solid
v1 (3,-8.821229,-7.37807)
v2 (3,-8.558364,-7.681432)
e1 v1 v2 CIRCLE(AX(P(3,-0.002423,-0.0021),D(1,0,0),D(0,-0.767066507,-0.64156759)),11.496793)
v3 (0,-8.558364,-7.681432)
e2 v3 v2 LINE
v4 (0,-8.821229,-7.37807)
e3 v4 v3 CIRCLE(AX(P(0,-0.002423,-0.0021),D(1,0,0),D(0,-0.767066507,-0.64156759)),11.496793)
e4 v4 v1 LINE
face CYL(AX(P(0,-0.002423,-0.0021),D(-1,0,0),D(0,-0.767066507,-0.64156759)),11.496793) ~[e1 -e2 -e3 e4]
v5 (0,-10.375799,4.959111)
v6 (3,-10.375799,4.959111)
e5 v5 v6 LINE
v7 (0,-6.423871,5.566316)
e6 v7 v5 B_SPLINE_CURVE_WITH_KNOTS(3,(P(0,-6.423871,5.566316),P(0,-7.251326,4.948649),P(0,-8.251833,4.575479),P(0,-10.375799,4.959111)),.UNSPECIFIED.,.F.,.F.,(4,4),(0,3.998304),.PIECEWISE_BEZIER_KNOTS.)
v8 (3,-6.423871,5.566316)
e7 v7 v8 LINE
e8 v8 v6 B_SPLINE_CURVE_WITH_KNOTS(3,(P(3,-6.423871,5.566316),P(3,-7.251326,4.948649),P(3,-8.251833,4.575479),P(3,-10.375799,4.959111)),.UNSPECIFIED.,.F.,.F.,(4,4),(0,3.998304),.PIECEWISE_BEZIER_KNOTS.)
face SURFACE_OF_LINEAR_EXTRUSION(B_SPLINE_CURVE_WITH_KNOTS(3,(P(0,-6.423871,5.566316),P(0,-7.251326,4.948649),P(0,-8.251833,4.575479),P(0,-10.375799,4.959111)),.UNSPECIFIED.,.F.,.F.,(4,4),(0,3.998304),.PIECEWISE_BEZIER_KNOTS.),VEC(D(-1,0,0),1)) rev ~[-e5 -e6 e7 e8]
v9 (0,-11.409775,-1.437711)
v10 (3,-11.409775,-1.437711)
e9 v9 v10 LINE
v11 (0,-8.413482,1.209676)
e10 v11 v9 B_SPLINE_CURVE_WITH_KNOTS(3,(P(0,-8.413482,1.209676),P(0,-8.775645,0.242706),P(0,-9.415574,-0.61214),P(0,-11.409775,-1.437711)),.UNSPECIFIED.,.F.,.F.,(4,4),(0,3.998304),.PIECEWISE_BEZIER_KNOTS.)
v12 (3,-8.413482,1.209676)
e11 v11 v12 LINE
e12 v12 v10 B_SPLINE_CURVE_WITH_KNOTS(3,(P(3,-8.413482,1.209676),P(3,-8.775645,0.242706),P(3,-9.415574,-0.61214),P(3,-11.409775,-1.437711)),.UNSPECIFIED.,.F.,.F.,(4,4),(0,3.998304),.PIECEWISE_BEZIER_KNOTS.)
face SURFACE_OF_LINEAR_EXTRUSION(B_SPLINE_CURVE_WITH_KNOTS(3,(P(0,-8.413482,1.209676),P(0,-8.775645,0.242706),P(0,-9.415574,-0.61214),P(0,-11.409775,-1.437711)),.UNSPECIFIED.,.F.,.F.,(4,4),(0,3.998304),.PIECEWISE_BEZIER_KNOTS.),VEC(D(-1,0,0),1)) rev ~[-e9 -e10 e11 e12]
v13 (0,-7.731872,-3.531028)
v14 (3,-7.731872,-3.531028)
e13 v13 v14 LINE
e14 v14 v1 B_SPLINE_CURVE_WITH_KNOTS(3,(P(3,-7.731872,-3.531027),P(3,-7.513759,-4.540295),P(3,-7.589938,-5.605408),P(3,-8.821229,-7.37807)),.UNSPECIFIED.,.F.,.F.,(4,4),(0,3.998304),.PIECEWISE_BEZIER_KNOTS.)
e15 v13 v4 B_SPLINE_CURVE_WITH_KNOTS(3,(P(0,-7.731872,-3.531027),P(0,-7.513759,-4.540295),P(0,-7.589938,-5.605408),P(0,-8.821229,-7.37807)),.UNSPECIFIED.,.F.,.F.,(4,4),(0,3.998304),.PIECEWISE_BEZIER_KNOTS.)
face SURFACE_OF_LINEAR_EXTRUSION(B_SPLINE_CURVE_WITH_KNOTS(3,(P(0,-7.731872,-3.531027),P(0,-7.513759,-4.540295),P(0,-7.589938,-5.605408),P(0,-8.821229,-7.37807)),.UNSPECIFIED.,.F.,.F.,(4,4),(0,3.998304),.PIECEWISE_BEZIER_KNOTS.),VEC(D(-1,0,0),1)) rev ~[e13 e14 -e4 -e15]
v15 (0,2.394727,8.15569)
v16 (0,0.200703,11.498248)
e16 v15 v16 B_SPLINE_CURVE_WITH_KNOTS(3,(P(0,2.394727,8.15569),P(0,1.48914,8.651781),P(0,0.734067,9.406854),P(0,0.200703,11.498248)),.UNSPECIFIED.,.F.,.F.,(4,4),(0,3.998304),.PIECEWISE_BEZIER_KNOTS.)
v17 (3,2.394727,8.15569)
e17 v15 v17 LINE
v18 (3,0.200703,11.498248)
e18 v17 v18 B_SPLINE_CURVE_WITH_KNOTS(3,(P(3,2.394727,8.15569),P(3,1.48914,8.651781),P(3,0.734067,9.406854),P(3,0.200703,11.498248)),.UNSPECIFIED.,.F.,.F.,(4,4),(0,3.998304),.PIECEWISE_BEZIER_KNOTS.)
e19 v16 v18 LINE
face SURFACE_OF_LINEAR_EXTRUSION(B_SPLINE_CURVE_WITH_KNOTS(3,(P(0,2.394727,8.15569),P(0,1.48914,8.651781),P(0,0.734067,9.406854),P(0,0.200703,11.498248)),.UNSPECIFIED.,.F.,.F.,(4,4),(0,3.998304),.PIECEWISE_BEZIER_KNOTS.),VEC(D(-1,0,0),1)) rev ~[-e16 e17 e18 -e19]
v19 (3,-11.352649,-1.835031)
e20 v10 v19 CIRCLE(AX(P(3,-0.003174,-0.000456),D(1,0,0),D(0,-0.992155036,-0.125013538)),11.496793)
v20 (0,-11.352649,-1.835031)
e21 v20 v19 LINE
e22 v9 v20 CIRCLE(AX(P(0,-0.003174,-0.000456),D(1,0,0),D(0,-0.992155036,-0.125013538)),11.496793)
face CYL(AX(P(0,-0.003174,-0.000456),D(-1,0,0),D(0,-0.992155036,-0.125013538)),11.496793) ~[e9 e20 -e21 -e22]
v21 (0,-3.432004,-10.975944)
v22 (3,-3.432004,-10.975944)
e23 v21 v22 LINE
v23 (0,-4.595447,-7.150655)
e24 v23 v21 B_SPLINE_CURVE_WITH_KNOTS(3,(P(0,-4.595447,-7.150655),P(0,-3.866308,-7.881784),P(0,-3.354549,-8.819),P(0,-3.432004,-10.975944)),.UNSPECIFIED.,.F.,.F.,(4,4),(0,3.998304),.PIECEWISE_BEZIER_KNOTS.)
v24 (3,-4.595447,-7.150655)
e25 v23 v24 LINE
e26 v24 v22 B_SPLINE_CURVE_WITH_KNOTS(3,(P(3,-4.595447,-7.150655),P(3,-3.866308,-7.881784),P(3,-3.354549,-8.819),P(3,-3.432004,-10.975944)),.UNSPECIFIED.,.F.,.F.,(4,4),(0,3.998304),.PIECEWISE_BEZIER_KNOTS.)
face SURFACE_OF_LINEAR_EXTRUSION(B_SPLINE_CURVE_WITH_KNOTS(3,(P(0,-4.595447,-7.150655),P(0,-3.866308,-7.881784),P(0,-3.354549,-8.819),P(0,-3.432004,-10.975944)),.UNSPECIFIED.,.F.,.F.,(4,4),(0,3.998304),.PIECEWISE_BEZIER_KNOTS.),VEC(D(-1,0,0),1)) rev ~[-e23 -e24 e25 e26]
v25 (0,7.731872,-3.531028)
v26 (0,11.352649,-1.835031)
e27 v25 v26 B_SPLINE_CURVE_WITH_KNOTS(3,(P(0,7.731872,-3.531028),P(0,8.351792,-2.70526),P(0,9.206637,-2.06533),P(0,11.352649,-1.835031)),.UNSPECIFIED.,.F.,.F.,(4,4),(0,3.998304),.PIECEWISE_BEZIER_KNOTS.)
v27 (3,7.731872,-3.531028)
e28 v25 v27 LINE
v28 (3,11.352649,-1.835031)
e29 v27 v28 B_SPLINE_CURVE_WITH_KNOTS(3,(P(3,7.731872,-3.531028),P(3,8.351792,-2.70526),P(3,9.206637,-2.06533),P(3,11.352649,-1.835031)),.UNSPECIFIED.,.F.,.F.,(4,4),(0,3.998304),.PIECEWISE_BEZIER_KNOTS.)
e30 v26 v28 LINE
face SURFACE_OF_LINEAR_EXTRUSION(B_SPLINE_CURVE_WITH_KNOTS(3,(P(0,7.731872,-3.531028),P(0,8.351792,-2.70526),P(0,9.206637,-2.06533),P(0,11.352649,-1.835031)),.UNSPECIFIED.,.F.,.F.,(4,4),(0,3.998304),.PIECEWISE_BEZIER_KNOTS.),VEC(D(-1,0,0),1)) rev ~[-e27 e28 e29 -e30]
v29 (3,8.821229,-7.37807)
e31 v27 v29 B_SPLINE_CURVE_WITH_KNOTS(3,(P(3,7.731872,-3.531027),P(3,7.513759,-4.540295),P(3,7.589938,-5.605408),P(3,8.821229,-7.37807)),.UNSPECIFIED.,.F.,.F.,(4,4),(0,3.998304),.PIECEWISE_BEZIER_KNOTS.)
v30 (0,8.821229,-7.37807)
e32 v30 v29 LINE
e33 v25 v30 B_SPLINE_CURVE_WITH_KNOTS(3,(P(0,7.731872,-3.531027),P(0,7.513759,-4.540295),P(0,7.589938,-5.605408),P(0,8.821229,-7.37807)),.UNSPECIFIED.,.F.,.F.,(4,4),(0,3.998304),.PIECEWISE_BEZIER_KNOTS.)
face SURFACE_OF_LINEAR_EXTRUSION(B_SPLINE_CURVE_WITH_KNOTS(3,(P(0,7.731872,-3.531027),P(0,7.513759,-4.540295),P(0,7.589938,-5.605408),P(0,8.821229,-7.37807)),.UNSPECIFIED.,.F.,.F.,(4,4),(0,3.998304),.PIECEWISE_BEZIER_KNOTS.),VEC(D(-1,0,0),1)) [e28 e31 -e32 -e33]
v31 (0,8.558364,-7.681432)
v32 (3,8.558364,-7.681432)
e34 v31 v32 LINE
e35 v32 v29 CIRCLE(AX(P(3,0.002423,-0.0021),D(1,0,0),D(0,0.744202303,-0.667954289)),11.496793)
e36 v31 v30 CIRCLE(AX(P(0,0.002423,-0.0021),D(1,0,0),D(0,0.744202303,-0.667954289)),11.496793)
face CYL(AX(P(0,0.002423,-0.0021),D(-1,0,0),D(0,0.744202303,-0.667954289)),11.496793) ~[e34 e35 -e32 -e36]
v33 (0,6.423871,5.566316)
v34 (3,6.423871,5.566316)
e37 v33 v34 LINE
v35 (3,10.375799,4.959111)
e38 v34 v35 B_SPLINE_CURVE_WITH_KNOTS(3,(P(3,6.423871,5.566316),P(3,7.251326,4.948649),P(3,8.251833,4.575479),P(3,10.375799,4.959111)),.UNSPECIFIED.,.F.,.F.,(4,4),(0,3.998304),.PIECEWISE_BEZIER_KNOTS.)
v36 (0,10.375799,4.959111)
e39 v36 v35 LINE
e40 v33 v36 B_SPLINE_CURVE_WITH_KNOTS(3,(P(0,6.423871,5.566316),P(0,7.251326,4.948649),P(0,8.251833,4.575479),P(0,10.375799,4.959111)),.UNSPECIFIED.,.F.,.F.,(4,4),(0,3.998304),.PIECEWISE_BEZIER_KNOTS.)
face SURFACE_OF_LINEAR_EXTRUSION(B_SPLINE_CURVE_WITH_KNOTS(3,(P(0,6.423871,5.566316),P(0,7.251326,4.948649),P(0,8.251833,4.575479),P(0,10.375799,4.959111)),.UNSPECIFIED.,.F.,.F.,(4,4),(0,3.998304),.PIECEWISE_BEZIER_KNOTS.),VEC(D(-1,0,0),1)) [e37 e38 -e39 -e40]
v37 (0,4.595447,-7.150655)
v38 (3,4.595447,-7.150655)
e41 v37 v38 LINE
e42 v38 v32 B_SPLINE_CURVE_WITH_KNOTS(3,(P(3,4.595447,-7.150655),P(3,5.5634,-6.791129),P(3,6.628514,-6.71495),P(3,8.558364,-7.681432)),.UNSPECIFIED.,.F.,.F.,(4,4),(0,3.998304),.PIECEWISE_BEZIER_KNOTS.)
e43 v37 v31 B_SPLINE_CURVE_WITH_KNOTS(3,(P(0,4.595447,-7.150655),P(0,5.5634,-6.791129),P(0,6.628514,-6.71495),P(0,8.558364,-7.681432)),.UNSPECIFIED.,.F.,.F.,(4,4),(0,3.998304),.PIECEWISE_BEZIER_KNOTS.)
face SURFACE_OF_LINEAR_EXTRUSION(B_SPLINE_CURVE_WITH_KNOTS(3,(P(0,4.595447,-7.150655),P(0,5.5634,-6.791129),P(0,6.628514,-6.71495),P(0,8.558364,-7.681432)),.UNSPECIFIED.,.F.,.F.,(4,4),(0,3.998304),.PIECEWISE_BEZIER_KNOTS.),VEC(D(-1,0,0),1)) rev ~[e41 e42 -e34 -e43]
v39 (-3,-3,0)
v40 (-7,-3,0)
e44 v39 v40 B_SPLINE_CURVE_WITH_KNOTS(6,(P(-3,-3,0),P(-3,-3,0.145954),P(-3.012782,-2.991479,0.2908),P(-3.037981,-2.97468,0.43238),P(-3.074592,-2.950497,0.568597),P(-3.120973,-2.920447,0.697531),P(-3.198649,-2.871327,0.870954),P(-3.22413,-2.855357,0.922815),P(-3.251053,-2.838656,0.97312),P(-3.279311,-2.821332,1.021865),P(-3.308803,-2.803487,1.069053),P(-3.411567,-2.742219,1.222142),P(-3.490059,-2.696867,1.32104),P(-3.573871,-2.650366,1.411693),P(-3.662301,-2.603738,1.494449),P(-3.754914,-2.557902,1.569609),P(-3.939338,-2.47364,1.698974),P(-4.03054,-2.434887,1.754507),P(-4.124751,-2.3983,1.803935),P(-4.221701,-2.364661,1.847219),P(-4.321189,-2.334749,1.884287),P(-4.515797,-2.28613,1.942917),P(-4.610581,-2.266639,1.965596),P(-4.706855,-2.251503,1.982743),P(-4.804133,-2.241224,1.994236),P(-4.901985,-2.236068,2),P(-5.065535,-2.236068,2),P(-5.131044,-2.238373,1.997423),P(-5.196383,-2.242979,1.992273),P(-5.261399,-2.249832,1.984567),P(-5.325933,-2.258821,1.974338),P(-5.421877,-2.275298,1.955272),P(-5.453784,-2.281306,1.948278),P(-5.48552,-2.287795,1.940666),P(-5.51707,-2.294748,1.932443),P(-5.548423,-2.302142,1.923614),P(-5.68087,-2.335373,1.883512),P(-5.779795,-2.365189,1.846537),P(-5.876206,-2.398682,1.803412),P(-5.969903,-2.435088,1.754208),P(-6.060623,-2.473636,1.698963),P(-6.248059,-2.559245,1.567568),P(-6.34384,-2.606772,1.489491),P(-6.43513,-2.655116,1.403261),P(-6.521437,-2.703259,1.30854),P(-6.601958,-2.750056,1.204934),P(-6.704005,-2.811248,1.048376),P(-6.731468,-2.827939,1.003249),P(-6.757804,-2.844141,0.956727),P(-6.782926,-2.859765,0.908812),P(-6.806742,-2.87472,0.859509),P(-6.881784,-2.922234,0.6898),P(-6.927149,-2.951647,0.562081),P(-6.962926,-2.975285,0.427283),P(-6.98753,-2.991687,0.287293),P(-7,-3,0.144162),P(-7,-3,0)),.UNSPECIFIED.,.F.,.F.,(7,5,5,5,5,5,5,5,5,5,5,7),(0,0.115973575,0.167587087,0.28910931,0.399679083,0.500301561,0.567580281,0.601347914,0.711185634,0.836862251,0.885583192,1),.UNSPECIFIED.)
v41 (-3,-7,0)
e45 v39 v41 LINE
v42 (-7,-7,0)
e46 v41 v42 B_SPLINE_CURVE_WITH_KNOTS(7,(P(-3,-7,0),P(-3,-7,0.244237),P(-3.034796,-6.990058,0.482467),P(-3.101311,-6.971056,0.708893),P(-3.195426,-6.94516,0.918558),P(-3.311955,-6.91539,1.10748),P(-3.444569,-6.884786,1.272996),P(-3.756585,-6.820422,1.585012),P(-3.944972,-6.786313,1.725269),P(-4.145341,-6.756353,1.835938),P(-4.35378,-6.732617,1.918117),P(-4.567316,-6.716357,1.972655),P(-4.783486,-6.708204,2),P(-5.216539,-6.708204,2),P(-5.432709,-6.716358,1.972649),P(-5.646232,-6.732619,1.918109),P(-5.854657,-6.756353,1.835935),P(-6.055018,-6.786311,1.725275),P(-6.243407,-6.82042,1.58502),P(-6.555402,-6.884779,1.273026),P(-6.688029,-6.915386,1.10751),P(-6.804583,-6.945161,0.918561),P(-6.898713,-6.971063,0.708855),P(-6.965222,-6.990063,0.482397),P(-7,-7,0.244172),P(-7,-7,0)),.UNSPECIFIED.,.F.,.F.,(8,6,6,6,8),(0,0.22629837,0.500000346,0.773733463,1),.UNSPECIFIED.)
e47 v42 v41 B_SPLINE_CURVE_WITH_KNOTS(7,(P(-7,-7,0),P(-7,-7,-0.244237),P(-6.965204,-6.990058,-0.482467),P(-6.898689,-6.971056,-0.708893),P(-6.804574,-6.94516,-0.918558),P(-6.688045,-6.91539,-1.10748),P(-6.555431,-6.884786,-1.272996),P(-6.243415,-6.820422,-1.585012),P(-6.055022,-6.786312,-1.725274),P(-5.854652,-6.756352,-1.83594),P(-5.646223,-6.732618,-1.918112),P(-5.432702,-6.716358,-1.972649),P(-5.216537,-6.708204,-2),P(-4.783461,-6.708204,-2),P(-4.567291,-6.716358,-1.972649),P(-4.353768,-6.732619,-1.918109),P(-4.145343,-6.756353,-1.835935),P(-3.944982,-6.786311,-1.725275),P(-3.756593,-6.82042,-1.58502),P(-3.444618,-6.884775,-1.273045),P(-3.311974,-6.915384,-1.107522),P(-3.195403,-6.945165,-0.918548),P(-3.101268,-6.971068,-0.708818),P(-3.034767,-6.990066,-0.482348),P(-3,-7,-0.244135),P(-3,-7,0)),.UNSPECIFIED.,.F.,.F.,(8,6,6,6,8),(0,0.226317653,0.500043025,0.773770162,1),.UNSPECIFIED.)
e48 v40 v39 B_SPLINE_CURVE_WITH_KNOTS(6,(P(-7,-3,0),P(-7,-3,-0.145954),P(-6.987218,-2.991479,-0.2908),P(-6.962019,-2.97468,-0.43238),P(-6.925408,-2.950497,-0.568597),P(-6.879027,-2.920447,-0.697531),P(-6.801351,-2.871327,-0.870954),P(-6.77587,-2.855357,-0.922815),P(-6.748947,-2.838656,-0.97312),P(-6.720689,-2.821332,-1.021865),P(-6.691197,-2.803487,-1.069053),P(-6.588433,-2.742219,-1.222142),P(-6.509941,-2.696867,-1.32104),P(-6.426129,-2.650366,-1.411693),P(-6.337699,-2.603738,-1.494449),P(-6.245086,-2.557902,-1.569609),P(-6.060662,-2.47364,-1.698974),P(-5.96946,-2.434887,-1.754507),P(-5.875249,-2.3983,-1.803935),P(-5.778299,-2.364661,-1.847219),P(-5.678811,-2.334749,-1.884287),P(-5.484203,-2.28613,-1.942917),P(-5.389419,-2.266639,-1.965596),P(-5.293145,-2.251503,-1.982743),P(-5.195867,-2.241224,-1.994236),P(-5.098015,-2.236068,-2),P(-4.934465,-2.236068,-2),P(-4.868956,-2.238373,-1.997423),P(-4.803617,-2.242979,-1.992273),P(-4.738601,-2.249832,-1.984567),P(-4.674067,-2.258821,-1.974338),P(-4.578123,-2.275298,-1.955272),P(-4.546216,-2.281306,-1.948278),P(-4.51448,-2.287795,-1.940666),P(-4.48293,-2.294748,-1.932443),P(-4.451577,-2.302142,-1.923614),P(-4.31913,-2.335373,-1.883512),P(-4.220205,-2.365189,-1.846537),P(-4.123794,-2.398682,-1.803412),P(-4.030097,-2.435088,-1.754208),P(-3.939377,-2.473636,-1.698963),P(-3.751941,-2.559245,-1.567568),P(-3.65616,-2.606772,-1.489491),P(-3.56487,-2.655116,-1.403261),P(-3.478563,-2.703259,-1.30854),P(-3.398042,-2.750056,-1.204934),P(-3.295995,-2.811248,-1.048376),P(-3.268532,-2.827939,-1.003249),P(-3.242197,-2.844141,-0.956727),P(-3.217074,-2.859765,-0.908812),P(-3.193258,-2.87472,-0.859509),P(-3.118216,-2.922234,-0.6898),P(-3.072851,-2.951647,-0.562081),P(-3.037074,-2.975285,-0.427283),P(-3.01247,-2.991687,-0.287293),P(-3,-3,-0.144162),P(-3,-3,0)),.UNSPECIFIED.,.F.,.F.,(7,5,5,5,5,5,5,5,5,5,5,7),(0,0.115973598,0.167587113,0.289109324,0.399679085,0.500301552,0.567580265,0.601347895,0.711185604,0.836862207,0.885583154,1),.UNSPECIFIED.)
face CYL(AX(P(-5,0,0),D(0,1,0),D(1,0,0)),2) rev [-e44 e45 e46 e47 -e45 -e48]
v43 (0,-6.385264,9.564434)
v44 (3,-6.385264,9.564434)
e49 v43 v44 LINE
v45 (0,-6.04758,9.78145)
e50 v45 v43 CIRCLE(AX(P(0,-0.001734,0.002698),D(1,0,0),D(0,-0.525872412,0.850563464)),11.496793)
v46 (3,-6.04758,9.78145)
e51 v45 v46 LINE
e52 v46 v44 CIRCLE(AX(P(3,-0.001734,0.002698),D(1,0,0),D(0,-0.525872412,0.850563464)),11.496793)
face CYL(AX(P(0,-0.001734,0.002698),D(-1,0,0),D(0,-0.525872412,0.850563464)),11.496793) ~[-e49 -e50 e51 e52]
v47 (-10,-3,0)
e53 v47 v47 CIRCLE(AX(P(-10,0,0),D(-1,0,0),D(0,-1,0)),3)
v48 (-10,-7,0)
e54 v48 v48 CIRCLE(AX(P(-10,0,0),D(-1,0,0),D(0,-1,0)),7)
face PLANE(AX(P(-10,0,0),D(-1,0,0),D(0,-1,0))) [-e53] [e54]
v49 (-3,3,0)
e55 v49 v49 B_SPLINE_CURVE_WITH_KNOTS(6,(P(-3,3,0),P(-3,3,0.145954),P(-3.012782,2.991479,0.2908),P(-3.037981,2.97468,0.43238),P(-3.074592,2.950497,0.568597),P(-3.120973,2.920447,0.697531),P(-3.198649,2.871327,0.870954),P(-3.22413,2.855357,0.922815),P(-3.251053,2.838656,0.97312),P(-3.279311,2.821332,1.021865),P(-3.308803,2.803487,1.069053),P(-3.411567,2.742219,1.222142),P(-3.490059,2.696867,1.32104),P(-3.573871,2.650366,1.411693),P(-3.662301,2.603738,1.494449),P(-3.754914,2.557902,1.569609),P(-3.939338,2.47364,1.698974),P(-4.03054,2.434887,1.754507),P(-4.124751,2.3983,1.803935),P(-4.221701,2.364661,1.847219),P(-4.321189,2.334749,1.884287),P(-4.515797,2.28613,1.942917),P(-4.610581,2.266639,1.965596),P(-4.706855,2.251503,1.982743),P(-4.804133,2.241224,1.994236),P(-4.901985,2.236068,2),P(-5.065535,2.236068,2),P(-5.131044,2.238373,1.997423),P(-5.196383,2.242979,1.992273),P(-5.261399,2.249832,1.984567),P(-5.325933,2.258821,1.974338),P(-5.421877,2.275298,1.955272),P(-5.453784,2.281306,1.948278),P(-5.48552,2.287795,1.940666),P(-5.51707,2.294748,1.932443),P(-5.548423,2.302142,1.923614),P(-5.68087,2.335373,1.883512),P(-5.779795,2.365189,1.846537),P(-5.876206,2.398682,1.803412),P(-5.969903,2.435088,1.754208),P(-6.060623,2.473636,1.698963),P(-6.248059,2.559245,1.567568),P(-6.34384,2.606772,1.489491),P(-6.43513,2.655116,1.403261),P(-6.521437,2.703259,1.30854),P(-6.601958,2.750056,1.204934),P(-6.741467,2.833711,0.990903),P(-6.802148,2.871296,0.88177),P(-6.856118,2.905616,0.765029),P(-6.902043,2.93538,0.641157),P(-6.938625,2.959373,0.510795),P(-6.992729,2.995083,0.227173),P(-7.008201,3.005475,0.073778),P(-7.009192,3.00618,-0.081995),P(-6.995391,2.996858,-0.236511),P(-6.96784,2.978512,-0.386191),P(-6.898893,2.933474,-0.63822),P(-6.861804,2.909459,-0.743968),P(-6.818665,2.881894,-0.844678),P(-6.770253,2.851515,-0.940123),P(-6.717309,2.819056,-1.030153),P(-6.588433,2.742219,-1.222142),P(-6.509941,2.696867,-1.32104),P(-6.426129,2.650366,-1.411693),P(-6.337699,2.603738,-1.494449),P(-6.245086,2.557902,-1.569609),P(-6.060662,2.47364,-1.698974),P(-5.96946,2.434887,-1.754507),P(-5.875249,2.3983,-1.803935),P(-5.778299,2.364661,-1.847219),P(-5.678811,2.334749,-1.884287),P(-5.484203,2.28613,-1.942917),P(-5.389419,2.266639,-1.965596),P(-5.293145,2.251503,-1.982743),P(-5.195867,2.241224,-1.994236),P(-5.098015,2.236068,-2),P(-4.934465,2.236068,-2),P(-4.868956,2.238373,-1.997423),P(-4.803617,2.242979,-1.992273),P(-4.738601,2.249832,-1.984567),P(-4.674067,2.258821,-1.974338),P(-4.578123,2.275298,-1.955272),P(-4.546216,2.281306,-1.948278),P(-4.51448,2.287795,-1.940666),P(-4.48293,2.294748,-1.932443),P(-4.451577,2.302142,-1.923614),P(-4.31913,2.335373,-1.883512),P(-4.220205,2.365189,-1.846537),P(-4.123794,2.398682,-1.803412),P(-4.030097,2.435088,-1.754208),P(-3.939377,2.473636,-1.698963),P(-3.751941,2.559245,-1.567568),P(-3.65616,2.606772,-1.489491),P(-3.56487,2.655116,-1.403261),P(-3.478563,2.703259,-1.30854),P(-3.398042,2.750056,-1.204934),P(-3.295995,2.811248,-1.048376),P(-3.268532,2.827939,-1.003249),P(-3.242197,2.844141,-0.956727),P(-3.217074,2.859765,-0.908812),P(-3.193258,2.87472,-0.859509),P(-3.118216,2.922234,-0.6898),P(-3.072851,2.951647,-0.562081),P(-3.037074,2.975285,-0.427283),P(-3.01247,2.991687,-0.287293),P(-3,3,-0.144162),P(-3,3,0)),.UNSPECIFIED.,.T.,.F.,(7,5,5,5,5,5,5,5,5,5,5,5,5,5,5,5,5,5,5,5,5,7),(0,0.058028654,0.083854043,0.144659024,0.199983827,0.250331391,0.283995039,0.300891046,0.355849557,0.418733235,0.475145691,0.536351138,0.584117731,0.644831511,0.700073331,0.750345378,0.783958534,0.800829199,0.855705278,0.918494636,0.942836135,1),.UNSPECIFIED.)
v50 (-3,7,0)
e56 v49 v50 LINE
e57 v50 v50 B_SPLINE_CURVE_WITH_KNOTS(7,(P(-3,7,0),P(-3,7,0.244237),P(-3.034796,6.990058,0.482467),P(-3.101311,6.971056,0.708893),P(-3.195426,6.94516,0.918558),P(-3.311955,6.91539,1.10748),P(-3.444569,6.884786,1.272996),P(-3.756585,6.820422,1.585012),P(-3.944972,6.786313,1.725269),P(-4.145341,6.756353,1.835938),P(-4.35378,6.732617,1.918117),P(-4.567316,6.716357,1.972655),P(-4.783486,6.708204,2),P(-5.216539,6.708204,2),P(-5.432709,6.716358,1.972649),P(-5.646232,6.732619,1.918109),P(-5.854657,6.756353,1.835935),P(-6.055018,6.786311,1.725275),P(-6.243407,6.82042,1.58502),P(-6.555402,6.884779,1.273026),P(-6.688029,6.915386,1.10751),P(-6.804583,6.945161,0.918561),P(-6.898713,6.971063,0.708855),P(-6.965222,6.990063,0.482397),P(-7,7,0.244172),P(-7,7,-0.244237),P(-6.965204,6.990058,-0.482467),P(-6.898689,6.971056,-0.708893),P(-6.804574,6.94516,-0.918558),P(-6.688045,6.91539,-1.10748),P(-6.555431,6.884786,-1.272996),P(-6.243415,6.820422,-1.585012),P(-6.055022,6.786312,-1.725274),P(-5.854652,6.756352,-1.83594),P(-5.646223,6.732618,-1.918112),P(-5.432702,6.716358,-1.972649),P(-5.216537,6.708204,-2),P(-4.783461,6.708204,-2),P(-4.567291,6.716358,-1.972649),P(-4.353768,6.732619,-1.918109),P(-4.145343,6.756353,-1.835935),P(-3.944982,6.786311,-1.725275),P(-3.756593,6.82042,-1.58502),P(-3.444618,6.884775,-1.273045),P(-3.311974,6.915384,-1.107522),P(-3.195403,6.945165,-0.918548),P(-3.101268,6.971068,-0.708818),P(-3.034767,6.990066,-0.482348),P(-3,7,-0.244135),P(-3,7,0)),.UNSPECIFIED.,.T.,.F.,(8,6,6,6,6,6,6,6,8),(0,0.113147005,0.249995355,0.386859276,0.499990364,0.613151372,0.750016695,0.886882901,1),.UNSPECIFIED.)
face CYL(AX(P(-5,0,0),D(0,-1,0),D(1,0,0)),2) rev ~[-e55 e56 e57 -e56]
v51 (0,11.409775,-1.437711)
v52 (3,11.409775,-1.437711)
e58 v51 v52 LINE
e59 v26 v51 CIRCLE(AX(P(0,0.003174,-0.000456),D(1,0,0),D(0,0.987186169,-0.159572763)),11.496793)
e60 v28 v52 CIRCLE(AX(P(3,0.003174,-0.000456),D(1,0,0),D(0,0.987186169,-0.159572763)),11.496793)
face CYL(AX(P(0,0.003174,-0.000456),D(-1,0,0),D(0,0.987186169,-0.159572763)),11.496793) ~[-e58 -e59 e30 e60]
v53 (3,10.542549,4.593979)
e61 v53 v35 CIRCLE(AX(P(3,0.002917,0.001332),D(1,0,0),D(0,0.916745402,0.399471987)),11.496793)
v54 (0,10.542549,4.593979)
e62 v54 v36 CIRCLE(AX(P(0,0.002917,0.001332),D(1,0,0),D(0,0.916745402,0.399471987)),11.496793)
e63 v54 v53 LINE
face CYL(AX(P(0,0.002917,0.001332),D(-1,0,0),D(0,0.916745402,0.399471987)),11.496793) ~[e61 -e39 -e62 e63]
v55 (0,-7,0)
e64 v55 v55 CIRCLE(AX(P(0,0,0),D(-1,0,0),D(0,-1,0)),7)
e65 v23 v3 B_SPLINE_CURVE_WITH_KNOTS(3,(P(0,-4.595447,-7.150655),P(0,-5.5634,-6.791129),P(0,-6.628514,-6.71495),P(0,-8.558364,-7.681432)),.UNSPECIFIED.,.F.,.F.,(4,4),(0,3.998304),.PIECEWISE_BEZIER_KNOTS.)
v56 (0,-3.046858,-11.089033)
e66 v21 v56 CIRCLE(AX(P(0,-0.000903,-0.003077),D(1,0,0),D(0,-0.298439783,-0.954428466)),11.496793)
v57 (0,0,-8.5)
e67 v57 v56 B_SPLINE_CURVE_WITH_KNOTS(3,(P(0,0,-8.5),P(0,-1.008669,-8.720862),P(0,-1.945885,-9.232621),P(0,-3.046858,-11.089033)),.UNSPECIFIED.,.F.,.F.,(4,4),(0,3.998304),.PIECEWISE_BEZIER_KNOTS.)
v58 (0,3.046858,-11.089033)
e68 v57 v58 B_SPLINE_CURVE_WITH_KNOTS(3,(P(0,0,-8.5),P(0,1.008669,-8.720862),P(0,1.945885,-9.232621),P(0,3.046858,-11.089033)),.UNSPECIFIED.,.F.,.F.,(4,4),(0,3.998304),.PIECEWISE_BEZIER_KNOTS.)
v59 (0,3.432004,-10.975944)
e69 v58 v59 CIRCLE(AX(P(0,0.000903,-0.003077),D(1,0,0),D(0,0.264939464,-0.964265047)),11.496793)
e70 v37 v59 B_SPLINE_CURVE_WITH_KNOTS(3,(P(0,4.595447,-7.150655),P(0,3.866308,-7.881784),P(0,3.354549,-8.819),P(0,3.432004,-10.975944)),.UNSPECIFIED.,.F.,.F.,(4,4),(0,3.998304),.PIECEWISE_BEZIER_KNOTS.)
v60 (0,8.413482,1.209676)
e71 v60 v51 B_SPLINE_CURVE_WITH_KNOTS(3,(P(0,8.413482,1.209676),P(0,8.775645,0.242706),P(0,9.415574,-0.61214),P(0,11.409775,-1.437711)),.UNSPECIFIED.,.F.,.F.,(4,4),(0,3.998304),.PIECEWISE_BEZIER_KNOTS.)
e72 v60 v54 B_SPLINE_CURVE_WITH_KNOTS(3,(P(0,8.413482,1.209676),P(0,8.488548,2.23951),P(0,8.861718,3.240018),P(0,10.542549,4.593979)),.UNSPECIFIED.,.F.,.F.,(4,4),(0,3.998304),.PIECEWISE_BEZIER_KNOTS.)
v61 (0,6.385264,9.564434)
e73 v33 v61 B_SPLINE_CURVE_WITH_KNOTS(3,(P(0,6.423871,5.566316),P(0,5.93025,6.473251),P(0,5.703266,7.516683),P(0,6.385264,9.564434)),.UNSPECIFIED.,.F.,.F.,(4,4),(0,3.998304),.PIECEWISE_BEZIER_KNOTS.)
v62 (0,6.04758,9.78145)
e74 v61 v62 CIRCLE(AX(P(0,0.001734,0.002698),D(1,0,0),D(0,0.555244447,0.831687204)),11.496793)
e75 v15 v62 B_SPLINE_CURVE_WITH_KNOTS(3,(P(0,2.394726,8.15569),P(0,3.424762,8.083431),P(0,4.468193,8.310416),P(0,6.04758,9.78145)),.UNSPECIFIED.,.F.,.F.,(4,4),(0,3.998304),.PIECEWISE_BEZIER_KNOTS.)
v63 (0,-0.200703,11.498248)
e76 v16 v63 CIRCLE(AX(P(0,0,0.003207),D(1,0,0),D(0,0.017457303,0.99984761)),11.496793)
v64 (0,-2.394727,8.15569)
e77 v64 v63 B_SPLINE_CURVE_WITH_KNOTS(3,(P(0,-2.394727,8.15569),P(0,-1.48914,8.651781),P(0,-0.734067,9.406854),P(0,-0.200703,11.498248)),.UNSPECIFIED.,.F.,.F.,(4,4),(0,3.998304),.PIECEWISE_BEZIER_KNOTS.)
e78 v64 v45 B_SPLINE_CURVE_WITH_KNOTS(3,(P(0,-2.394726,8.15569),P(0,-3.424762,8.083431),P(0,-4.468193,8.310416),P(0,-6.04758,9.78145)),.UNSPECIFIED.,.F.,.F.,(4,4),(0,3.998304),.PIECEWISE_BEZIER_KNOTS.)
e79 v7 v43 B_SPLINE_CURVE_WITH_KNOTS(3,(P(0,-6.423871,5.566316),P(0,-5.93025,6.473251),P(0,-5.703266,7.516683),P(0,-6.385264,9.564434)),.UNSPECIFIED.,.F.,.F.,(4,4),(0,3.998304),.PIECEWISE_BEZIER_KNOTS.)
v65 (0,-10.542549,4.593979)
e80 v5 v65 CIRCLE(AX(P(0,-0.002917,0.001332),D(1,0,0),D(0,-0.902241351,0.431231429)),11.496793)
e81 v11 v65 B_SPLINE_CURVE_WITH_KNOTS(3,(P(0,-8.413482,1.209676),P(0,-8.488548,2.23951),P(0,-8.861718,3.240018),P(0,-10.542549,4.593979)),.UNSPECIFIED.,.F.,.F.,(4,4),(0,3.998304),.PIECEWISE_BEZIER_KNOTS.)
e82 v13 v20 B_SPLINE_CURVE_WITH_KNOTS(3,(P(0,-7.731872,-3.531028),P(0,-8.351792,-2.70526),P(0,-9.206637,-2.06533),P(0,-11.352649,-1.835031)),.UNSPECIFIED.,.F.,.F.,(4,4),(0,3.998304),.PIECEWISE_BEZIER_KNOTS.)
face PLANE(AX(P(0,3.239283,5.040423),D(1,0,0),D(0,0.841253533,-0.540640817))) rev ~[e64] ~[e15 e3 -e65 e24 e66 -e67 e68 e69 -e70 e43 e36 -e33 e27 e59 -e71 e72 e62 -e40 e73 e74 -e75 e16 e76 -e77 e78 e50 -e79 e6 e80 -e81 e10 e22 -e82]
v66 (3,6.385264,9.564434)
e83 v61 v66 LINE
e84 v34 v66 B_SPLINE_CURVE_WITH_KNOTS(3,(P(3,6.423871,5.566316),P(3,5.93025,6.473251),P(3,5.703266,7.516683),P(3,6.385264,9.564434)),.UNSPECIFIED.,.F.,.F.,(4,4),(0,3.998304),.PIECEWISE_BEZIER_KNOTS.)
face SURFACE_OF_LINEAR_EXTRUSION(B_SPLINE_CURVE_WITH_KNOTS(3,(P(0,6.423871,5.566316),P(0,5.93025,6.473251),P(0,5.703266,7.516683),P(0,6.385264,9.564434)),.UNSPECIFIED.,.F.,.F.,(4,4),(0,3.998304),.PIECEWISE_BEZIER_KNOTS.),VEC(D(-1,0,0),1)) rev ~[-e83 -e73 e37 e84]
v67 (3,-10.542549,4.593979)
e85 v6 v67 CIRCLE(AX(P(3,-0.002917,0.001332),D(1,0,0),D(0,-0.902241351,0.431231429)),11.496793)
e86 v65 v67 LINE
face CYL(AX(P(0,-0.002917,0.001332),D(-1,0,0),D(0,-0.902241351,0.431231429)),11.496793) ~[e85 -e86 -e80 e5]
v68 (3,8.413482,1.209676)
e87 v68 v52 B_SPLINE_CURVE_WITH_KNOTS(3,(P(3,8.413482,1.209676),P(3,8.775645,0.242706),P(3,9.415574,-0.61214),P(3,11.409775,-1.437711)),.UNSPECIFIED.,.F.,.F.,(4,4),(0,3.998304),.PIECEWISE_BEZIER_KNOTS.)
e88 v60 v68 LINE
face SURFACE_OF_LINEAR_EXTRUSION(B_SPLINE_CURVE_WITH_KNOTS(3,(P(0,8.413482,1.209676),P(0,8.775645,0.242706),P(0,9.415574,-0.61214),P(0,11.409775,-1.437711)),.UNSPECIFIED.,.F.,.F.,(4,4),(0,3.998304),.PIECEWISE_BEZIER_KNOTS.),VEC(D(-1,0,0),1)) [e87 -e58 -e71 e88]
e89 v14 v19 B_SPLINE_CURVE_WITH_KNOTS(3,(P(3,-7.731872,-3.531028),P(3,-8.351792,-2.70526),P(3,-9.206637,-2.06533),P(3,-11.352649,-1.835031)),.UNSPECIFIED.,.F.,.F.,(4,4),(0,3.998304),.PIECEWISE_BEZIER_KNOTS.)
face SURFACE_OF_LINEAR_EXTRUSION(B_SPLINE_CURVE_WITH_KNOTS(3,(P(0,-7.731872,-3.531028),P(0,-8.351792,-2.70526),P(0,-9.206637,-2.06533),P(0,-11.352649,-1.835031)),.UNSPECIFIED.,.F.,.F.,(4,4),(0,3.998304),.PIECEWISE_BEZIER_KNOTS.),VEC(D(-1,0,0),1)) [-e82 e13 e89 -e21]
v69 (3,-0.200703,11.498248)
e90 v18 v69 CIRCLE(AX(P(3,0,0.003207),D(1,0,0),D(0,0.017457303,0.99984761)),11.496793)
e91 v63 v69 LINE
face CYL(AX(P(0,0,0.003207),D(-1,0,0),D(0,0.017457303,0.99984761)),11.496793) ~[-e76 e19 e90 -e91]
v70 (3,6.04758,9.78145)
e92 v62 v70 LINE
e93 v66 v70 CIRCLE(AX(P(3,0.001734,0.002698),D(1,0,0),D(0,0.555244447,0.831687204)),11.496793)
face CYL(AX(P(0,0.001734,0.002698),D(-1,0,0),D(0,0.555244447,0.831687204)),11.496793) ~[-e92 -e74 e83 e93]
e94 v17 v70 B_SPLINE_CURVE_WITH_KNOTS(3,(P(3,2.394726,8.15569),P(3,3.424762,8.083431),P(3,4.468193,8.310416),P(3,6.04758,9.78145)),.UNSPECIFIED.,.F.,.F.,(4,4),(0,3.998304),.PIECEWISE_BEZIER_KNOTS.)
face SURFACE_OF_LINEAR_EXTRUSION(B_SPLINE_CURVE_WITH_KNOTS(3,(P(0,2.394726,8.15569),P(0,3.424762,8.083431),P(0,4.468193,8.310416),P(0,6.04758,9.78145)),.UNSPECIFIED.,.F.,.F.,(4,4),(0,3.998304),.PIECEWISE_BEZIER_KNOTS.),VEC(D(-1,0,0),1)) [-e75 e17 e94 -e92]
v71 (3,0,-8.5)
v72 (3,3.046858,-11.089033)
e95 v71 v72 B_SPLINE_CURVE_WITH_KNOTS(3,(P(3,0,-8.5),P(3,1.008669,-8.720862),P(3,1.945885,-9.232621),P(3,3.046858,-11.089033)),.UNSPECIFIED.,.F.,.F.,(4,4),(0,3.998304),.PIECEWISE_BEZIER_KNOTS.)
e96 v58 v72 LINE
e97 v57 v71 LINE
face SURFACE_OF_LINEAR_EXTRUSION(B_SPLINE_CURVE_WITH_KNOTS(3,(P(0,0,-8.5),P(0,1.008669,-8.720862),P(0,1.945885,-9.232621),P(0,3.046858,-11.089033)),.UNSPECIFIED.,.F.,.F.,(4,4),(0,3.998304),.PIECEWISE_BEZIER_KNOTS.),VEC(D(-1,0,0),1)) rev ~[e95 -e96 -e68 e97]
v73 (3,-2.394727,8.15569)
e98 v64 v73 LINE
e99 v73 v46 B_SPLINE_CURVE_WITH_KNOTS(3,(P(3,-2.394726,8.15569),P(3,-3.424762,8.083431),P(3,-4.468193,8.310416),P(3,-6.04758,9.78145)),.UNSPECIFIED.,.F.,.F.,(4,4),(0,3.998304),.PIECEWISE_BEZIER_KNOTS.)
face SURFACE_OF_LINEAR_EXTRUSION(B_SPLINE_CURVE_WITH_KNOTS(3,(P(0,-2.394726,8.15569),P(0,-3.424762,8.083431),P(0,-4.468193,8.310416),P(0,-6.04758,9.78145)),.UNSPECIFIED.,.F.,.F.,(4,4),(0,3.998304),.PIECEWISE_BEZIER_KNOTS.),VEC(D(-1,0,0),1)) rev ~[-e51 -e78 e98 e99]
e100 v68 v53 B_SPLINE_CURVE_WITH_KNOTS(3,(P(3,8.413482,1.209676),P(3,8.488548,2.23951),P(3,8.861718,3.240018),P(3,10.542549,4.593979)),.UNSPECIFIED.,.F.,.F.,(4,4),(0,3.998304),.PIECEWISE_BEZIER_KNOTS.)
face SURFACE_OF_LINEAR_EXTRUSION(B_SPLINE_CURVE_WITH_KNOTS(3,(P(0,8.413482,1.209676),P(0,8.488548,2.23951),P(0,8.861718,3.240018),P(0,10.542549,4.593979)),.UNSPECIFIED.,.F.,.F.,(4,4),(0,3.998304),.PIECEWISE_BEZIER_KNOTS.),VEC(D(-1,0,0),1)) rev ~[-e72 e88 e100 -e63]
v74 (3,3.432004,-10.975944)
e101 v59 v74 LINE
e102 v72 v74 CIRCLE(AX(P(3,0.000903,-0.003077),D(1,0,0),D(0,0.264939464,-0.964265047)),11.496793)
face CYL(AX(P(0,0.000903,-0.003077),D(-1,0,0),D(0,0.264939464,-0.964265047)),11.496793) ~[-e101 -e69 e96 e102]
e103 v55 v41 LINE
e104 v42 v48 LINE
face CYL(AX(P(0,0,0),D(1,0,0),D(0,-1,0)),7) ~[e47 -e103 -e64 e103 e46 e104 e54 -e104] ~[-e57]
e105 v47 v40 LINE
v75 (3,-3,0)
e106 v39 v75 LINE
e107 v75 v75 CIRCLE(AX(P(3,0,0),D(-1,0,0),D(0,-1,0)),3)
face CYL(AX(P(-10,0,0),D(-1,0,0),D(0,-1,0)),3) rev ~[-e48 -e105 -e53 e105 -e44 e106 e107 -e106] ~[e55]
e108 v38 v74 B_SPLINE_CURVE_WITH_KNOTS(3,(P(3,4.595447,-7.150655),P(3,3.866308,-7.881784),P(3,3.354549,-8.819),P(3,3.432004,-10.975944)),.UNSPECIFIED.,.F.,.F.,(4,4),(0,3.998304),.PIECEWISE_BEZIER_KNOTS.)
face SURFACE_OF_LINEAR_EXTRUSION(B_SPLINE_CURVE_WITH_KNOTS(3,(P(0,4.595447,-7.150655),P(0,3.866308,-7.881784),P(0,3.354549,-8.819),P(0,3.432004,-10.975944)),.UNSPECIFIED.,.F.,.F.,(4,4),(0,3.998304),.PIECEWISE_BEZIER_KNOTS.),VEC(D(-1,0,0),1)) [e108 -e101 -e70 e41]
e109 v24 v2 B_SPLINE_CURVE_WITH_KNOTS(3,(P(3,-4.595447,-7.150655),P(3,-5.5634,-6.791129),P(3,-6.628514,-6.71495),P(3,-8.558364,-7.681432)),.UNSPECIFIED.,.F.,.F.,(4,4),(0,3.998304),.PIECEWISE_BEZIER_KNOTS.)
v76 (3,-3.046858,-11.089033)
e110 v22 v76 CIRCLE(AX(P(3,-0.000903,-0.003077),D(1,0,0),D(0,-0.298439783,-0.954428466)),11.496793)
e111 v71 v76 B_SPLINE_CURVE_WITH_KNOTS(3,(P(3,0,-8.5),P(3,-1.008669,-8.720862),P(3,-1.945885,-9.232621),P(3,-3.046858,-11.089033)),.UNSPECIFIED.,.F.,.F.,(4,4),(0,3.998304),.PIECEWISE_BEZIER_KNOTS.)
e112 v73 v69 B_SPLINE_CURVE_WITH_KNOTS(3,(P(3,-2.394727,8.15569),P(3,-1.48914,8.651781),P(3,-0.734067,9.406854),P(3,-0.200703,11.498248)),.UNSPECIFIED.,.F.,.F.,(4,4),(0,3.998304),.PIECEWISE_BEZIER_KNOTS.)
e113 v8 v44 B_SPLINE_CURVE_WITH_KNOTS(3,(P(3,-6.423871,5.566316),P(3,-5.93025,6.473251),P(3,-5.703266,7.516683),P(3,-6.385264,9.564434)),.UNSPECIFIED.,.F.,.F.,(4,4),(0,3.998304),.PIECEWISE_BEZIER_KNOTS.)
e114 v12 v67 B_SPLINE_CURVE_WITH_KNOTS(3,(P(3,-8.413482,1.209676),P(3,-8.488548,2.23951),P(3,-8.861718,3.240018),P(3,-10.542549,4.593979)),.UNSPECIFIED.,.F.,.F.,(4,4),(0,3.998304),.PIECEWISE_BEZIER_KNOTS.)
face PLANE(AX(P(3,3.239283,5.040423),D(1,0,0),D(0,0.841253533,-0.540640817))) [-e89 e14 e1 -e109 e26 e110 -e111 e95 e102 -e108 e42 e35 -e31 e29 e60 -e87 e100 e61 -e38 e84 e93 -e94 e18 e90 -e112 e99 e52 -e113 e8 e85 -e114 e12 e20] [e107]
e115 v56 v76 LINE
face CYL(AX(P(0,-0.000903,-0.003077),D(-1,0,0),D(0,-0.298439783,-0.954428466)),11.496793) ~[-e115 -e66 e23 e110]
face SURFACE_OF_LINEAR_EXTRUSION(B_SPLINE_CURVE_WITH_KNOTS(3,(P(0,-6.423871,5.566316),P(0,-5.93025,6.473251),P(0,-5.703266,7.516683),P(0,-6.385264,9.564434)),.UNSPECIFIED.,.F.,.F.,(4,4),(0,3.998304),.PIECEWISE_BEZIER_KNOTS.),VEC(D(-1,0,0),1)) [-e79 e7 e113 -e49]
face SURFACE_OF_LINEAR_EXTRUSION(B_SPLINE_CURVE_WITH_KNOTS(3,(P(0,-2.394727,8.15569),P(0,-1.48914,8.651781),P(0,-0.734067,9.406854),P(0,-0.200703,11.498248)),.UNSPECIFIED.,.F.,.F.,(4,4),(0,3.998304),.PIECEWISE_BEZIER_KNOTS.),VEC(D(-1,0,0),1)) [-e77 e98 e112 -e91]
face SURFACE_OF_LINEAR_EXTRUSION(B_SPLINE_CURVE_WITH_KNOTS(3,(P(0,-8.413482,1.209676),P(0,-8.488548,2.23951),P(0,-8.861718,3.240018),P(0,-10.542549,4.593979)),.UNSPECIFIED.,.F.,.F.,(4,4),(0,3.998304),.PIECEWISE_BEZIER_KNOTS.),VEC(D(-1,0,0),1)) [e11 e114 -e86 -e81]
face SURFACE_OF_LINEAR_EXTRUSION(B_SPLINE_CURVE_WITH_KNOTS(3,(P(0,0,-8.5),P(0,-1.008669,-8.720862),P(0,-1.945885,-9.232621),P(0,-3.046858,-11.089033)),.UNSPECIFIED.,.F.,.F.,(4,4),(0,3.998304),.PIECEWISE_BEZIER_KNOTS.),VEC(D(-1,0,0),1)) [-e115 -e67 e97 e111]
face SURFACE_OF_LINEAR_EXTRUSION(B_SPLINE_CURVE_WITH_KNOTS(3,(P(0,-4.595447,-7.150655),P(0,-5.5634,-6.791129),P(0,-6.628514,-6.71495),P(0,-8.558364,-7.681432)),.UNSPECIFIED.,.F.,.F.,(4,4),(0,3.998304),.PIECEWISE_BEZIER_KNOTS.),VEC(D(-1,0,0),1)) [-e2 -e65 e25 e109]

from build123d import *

# Parameters (mm, degrees)
F1_DEPTH  = 3
F2_COUNT  = 11
F3_R      = 7
F4_DEPTH  = 10
F5_R      = 3
F6_DEPTH  = 13.001
F7_R      = 2
F8_DEPTH  = 11.410776
F9_R      = 2
F10_DEPTH = 11.410776


with BuildPart() as f1:
    # F0 (on Right) → F1 (new body)
    with BuildSketch(Plane.YZ):
        with BuildLine():
            add(Edge.make_bspline(
                [(2.394727, 8.15569), (1.48914, 8.651781), (0.734067, 9.406854), (0.200703, 11.498248)],
                knots=[0, 0, 0, 0, 3.998304, 3.998304, 3.998304, 3.998304], degree=3))
            ThreePointArc((0.200703, 11.498248), (0, 11.5), (-0.200703, 11.498248))
            add(Edge.make_bspline(
                [(-2.394727, 8.15569), (-1.48914, 8.651781), (-0.734067, 9.406854), (-0.200703, 11.498248)],
                knots=[0, 0, 0, 0, 3.998304, 3.998304, 3.998304, 3.998304], degree=3))
            Line((-2.394727, 8.15569), (0, 0))
            Line((0, 0), (2.394727, 8.15569))
        make_face()
    extrude(amount=F1_DEPTH)

    # F2: F1 ×11 about axis
    f2_axis = Axis((1.5, 0, 0), (1, 0, 0))


with BuildPart() as f1_1:
    add(f1.part)
    for i in range(1, F2_COUNT):
        add(f1.part.rotate(f2_axis, i * 360 / F2_COUNT))

    # F3 (on face) → F4 (join)
    with BuildSketch(Plane(origin=(0, 0, 0), x_dir=(0, -1, 0), z_dir=(-1, 0, 0))):
        Circle(F3_R)
    extrude(amount=F4_DEPTH)

    # F5 (on face) → F6 (cut, through all)
    with BuildSketch(Plane(origin=(-10, 0, 0), x_dir=(0, -1, 0), z_dir=(-1, 0, 0))):
        Circle(F5_R)
    extrude(amount=-F6_DEPTH, mode=Mode.SUBTRACT)

    # F7 (on Front) → F8 (cut, through all)
    with BuildSketch(Plane.XZ):
        with Locations((-5, 0)):
            Circle(F7_R)
    extrude(amount=-F8_DEPTH, mode=Mode.SUBTRACT)

    # F9 (on Front) → F10 (cut, through all)
    with BuildSketch(Plane.XZ):
        with Locations((-5, 0)):
            Circle(F9_R)
    extrude(amount=F10_DEPTH, mode=Mode.SUBTRACT)


solid = f1_1.part
